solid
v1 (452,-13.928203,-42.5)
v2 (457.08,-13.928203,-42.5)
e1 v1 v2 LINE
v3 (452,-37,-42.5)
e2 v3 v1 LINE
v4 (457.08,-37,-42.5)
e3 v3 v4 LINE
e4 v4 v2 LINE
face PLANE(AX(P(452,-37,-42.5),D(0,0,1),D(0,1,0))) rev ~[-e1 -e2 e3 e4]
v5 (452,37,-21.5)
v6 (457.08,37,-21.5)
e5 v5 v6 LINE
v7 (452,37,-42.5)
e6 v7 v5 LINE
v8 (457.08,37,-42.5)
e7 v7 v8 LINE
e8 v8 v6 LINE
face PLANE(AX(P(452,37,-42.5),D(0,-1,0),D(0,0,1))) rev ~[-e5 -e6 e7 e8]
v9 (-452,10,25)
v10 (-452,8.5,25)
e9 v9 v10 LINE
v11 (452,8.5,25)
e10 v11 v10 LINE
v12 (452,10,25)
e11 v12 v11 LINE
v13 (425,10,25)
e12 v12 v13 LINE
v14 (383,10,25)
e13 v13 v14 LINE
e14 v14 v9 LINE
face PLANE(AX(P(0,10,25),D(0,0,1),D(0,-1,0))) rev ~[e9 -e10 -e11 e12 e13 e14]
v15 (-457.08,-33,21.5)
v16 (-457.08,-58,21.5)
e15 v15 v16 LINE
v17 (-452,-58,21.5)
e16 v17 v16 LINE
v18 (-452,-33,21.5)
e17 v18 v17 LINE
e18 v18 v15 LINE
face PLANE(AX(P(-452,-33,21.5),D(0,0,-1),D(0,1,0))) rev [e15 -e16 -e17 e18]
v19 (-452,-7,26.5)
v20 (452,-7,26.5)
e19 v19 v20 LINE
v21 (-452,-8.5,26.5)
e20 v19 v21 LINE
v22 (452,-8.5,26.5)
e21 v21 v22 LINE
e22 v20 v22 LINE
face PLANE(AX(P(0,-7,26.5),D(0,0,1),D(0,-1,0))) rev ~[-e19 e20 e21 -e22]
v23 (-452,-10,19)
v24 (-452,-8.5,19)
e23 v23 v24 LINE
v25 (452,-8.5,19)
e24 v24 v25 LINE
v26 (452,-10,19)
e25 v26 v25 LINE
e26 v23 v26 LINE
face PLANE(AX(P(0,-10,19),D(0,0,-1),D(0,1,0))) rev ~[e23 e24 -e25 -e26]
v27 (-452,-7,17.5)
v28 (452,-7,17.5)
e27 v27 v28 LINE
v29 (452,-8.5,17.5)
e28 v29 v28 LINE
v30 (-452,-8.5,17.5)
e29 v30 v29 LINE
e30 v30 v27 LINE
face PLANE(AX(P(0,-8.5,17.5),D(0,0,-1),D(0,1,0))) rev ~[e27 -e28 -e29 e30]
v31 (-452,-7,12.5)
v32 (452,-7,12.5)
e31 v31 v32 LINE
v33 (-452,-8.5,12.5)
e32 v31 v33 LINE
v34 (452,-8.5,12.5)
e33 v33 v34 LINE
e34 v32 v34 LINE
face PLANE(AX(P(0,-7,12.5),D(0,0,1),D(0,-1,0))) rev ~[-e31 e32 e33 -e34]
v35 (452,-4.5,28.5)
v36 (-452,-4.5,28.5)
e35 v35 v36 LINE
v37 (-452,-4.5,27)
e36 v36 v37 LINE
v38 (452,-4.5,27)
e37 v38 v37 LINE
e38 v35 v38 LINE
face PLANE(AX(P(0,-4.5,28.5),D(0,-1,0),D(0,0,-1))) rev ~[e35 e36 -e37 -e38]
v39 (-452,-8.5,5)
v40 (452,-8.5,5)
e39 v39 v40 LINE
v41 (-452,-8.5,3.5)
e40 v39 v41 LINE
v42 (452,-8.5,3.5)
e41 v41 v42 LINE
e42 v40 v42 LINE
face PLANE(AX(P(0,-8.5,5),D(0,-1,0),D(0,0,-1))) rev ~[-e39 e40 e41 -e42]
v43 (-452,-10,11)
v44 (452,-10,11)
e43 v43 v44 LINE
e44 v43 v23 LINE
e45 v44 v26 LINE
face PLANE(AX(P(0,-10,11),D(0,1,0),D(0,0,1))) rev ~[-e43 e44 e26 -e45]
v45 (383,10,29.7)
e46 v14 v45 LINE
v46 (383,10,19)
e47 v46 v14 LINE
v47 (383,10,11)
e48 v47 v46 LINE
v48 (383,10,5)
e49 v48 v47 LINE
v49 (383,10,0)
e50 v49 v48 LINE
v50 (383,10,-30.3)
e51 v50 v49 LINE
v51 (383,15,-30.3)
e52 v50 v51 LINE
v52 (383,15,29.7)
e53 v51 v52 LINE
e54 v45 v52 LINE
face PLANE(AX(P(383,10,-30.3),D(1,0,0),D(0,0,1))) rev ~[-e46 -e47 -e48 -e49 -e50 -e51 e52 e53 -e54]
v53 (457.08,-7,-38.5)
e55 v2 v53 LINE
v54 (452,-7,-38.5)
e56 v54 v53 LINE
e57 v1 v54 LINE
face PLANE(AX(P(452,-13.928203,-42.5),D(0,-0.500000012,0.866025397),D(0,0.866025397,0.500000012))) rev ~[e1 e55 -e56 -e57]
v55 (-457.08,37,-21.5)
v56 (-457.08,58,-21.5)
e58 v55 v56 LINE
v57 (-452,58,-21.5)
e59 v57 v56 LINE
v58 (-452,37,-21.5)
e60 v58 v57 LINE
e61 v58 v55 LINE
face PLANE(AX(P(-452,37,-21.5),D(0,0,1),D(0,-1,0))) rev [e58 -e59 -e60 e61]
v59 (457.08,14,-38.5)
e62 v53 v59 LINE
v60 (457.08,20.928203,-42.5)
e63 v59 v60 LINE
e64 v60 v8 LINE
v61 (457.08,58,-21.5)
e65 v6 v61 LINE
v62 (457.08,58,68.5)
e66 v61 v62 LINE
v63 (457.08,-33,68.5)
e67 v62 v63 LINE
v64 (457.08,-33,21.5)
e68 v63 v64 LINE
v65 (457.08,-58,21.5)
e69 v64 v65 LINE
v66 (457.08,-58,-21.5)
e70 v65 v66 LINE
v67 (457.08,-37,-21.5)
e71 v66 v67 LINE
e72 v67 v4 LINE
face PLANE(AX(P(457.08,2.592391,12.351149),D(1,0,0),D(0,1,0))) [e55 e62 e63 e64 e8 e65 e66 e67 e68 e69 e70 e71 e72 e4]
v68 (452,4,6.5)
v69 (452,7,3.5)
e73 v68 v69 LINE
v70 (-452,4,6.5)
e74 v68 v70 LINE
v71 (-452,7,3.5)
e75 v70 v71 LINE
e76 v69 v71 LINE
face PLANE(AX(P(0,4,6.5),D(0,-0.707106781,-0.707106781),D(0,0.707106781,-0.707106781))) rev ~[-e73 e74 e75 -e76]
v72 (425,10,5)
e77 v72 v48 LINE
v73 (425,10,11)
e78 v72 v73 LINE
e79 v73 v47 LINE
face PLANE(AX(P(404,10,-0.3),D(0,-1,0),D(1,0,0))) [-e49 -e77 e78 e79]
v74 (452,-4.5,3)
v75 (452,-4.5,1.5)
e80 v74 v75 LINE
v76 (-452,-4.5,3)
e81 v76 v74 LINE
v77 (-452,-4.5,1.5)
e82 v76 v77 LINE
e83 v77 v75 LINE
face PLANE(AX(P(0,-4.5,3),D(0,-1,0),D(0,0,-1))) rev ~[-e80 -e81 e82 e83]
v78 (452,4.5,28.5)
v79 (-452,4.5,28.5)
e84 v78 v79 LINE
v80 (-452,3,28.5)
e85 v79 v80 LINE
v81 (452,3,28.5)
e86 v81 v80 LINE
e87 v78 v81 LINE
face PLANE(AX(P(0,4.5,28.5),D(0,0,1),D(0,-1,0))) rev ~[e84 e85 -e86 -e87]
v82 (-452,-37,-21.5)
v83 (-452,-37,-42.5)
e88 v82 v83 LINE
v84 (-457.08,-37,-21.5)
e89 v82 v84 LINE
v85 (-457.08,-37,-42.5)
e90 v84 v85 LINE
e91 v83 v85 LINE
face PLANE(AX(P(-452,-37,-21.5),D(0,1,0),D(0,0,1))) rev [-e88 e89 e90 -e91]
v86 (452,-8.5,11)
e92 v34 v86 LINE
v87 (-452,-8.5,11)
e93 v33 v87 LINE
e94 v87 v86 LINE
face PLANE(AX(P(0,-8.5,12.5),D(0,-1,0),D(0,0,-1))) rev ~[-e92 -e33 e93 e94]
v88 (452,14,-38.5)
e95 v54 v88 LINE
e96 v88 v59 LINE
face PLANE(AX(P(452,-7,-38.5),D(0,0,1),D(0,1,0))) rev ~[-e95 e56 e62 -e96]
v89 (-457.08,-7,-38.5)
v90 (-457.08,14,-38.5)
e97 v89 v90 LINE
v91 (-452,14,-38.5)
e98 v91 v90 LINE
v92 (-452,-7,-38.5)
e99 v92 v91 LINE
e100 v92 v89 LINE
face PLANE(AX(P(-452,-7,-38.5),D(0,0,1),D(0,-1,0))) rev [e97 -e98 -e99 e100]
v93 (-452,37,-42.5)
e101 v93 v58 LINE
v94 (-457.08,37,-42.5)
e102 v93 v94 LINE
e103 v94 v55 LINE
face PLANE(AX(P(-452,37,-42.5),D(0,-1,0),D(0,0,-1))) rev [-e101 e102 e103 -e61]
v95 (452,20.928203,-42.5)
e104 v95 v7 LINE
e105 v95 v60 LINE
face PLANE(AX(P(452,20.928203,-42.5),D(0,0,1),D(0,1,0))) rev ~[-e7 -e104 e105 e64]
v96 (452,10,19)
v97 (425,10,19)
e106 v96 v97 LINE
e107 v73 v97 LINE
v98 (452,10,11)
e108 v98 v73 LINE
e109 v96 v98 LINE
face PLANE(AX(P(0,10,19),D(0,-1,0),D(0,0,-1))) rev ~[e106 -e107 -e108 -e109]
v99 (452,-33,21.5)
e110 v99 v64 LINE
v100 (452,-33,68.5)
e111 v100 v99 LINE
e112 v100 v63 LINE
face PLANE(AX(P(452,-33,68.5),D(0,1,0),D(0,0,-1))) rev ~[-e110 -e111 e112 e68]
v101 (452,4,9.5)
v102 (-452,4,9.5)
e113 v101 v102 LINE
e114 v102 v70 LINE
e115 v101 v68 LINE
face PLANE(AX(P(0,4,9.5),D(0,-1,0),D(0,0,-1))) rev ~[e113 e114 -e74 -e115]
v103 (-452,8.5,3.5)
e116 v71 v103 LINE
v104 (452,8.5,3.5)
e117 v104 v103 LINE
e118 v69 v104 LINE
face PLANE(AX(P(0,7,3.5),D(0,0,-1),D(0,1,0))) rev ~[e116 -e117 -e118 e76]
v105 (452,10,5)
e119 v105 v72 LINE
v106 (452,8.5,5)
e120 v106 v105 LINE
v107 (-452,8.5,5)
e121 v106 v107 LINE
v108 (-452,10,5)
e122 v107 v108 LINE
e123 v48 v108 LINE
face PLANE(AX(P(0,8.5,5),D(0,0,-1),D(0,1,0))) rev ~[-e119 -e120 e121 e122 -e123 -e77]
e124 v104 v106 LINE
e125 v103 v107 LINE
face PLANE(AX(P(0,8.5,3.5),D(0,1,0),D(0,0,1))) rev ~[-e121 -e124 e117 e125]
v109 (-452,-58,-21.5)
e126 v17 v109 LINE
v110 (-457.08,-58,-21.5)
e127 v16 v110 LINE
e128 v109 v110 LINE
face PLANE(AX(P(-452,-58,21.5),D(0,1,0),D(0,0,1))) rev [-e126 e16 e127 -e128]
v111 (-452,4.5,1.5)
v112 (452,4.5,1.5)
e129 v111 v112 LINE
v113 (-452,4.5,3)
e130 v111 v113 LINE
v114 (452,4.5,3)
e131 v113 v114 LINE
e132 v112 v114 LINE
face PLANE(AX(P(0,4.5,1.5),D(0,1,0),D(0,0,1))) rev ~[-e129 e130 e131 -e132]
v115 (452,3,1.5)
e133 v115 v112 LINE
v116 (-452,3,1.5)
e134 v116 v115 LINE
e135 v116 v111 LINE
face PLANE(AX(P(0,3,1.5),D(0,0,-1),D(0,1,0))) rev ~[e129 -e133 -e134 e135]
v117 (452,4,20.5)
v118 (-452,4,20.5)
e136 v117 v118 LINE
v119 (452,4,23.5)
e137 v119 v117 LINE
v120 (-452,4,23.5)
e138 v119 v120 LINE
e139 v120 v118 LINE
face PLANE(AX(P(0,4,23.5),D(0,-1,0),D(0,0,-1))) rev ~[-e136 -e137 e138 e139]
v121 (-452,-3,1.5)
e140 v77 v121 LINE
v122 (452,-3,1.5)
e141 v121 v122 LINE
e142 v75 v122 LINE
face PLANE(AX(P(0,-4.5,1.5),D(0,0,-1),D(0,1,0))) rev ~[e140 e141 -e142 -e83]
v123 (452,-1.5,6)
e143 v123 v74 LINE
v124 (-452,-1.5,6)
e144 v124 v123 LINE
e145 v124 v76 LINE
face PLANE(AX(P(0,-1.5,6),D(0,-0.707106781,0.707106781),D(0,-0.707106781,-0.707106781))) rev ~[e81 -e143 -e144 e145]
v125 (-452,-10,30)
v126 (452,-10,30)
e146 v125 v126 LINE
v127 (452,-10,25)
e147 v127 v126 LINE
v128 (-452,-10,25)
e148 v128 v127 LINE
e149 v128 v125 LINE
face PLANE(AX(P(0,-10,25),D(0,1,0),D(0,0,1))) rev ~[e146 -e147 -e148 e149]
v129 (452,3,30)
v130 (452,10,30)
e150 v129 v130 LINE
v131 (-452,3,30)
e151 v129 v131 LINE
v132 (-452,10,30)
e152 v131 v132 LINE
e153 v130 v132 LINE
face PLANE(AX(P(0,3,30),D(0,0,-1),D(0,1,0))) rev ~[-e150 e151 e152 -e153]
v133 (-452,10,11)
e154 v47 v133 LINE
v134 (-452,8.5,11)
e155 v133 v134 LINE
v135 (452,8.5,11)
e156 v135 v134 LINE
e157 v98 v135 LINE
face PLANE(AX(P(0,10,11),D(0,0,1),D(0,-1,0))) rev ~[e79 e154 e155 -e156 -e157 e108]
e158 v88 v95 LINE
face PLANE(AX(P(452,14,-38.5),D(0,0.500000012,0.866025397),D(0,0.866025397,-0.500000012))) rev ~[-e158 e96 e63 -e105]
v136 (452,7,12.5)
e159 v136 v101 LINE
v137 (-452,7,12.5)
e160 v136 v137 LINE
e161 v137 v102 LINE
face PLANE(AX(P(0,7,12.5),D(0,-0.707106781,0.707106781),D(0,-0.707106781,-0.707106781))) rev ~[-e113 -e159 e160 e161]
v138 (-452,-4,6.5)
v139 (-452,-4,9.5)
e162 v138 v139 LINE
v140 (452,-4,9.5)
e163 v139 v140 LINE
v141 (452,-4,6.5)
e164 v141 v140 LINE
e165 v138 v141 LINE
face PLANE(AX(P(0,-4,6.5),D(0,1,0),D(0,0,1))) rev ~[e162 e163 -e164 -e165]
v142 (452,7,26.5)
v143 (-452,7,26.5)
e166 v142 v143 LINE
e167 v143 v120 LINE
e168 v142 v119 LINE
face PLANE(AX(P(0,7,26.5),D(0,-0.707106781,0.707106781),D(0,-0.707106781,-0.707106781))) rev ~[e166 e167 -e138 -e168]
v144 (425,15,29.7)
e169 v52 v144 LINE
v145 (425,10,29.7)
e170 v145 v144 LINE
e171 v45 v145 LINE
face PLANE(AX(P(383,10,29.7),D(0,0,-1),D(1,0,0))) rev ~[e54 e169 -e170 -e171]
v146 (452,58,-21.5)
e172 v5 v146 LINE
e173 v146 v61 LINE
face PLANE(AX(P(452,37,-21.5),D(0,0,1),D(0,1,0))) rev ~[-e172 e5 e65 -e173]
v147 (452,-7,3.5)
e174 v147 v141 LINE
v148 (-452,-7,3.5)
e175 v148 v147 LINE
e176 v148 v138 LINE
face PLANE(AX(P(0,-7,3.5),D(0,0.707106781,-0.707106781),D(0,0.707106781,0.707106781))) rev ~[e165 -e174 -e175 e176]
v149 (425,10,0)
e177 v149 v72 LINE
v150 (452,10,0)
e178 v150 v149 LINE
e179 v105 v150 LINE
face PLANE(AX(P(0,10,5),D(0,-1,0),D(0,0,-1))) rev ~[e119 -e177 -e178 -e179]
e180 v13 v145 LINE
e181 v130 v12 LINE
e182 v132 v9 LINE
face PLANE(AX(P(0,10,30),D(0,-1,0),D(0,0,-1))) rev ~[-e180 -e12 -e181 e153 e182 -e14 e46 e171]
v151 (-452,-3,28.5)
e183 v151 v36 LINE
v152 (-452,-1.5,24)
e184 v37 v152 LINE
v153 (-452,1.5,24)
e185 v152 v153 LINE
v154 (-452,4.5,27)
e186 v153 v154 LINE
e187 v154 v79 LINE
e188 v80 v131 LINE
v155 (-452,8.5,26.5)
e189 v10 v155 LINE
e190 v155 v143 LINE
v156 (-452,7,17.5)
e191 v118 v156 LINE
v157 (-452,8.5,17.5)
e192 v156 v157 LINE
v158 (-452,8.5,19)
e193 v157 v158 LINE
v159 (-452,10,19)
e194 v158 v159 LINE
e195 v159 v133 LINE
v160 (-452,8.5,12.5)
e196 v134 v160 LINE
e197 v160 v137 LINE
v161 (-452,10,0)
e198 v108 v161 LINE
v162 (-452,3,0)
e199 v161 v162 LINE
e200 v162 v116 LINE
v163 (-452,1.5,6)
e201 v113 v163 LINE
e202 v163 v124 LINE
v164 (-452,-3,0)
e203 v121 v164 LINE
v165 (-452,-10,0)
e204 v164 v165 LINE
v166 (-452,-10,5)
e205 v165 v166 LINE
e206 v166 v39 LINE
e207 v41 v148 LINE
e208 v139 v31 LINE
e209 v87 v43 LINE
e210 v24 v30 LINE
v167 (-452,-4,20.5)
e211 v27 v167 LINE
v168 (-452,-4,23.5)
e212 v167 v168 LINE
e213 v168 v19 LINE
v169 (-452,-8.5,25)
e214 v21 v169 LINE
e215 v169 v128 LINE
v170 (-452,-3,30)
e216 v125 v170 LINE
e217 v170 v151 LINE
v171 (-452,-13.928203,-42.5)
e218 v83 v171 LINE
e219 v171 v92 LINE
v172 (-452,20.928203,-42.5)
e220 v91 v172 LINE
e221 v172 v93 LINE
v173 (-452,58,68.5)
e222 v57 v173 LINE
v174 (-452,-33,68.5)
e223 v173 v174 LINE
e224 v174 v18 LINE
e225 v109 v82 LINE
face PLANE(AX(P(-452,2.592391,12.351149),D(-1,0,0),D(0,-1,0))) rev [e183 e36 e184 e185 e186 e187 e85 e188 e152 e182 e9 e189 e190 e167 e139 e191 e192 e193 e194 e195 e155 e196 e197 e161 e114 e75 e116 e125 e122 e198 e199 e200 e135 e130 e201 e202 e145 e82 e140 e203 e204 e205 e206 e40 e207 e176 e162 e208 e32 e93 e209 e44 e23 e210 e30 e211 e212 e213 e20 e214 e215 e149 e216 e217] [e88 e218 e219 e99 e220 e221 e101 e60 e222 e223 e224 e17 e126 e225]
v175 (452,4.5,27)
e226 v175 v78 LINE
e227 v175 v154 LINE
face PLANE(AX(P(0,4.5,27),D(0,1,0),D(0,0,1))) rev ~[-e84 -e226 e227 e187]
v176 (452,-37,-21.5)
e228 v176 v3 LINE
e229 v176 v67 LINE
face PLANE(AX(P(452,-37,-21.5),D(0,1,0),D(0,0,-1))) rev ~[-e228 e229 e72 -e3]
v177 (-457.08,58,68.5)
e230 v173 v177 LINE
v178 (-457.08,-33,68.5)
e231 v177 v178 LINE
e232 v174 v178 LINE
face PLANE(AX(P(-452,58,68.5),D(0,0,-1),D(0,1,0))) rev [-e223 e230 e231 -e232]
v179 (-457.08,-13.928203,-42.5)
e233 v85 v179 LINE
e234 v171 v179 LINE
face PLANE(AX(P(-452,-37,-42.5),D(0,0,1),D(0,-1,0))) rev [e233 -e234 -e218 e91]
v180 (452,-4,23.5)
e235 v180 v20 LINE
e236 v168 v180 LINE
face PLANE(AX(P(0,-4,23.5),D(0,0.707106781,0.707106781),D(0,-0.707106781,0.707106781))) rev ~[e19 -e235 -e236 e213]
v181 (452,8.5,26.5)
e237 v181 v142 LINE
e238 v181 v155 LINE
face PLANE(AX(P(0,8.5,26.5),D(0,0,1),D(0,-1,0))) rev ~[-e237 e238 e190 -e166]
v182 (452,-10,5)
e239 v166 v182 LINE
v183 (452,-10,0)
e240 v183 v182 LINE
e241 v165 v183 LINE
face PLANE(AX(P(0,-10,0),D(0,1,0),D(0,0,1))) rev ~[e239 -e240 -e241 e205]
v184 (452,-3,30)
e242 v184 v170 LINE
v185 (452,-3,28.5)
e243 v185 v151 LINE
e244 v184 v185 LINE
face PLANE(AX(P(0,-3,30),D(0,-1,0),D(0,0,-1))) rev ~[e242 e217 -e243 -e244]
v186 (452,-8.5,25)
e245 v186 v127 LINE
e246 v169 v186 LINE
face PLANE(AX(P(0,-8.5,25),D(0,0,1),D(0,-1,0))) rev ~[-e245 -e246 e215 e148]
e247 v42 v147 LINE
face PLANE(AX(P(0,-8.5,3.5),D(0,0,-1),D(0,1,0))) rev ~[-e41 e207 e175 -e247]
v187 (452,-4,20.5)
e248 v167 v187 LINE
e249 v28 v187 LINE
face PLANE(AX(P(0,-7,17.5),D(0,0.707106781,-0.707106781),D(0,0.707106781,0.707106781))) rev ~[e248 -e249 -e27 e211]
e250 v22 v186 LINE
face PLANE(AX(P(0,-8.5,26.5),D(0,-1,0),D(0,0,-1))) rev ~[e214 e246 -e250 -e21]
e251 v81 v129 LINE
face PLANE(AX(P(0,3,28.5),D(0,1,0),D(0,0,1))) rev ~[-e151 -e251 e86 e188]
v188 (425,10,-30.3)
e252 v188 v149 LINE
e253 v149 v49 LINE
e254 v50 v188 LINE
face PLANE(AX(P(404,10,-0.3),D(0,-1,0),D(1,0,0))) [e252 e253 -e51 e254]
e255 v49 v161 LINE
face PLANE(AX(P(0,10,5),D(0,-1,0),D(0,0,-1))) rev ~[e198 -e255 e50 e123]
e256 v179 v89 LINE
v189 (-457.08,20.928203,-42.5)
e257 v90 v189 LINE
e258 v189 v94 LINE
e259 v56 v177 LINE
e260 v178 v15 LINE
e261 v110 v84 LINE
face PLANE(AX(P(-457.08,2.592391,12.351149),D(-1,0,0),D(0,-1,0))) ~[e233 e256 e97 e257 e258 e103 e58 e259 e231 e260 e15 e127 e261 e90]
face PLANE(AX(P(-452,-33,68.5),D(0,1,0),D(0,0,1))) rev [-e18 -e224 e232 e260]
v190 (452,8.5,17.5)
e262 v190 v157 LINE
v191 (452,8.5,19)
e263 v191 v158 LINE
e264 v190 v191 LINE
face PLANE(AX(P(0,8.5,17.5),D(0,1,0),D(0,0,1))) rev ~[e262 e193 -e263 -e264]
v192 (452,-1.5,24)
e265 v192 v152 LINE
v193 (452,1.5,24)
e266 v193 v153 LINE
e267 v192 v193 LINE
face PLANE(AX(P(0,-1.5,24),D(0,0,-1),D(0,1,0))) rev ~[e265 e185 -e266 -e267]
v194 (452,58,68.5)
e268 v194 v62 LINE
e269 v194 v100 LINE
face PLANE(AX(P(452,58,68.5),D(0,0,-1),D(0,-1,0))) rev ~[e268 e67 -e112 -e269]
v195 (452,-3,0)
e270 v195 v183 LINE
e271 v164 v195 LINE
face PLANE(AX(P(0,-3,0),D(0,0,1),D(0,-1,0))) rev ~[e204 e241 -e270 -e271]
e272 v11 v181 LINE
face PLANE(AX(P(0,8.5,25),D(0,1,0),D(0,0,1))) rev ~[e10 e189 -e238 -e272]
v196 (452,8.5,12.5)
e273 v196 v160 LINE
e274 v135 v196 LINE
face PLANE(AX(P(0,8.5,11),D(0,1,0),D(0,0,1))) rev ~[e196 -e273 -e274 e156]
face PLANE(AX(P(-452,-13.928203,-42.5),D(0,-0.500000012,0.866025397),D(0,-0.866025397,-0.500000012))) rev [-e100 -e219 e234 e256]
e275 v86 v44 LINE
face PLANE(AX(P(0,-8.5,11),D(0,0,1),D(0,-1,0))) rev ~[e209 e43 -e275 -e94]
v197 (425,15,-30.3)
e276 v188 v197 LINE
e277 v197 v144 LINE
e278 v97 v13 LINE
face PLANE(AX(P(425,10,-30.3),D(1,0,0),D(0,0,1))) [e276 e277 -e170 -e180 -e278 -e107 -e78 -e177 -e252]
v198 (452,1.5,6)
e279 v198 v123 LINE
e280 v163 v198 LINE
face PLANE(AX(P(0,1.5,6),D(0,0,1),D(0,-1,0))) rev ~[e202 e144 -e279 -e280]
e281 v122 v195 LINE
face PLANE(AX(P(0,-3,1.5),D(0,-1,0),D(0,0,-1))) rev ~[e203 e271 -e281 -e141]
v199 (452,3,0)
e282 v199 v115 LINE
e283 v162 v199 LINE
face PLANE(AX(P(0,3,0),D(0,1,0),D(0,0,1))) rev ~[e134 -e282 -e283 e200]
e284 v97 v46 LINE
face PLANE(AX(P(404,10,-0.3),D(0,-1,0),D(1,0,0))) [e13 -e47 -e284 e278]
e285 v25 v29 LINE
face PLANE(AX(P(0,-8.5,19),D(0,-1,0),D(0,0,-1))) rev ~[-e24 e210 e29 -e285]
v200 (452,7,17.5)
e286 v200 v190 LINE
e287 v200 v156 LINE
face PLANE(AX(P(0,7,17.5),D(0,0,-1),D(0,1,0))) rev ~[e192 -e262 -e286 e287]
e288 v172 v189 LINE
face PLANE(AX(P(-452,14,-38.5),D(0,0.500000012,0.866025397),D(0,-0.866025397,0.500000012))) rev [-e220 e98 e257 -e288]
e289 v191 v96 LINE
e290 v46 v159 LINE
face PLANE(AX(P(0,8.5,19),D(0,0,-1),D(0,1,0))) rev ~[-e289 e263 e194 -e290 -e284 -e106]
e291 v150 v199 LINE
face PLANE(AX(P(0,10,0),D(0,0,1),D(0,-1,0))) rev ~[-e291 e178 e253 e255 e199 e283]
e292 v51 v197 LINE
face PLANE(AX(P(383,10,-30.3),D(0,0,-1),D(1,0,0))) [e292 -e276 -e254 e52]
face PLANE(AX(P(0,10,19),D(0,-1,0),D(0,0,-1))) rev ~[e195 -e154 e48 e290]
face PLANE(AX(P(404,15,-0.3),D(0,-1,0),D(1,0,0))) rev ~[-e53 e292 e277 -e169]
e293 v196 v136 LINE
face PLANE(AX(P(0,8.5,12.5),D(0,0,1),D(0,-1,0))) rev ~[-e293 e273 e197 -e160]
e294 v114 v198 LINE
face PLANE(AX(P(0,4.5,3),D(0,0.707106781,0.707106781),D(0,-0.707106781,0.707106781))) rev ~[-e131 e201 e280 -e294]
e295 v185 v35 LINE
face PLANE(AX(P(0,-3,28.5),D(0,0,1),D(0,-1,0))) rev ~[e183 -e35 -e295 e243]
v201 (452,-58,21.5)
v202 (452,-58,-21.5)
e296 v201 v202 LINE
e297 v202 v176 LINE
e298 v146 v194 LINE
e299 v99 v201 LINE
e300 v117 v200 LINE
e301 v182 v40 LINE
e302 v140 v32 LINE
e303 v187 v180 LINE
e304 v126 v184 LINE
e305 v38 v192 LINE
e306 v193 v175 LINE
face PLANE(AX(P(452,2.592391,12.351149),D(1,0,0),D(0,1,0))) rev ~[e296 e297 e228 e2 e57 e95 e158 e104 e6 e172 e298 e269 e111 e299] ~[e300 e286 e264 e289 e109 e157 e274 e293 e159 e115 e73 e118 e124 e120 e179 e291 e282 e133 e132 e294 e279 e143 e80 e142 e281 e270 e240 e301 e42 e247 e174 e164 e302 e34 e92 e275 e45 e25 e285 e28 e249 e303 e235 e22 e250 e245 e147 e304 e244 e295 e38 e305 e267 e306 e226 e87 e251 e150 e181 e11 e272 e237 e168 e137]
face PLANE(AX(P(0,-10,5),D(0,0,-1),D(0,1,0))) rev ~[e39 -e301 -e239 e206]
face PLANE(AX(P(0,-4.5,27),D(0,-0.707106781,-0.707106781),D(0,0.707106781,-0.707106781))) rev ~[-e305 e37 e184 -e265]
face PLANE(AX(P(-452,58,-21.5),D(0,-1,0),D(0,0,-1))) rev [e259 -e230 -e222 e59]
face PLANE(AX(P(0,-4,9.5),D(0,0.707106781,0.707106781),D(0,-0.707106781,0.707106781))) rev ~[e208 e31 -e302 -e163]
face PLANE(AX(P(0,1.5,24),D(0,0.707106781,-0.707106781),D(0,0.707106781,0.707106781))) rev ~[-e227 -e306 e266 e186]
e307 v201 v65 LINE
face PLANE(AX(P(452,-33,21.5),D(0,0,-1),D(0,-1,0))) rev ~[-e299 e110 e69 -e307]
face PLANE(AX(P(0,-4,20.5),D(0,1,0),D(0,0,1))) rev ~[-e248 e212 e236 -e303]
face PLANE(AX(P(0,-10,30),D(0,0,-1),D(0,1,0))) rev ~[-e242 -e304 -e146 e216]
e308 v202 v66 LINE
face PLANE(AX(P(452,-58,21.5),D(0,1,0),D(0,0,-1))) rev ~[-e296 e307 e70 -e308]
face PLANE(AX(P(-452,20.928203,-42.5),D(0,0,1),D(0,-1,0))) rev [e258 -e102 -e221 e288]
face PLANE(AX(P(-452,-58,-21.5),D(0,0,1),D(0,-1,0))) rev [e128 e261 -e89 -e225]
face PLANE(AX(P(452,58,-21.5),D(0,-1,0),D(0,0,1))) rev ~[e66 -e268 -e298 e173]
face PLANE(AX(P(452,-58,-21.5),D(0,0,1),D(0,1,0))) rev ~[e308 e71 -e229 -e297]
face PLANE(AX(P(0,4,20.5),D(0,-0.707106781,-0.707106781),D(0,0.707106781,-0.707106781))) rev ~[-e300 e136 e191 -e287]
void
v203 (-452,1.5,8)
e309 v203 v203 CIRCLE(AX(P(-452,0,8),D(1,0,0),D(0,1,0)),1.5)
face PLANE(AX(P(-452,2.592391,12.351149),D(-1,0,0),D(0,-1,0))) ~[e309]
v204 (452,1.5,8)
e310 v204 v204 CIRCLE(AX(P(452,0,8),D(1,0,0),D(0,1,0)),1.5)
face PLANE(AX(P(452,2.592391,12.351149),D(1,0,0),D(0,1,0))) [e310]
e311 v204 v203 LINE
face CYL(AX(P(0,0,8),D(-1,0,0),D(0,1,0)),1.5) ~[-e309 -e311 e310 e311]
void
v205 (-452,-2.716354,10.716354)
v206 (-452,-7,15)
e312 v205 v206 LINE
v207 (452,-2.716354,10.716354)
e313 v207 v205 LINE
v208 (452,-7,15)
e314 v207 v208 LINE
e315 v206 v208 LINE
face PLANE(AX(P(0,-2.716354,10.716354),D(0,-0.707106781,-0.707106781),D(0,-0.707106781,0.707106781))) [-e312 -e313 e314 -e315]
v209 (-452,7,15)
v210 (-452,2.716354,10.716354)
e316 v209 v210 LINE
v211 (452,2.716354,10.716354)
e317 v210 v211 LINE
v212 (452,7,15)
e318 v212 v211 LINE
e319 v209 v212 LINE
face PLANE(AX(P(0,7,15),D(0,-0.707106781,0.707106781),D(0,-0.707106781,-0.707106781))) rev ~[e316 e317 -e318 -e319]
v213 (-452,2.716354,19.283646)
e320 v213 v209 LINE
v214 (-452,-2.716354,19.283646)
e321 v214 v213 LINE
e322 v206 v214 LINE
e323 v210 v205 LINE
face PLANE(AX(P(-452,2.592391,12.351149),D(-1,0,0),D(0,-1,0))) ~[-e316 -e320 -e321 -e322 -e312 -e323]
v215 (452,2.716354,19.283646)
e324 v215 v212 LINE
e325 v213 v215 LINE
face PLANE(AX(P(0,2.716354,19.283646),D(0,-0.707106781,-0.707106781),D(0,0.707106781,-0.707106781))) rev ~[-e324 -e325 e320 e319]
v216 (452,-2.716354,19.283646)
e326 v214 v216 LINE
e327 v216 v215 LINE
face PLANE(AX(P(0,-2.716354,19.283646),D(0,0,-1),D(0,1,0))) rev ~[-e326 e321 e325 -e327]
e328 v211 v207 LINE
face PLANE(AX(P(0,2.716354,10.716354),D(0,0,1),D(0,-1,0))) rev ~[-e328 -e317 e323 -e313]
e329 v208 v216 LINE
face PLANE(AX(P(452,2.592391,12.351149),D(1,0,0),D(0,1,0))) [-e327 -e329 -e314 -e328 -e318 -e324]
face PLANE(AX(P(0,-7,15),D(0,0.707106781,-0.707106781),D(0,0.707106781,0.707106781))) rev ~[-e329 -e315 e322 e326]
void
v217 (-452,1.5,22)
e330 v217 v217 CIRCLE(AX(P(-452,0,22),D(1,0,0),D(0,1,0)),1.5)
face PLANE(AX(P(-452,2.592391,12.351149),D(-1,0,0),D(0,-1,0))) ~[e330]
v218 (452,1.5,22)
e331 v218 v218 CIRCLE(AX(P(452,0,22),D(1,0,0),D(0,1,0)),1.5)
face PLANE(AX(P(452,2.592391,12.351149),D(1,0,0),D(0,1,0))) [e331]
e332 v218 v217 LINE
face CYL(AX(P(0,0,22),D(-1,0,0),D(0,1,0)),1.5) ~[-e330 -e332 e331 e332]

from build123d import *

# Parameters (mm, degrees)
SKETCH_R     = 1.5
PAD_DEPTH    = 452
PAD001_DEPTH = 5.08
SKETCH002_W  = 42
SKETCH002_H  = 60
PAD002_DEPTH = 5


with BuildPart() as part:
    # Sketch → Pad (new body, symmetric)
    with BuildSketch(Plane.YZ):
        Polygon((-10, 30), (-3, 30), (-3, 28.5), (-4.5, 28.5), (-4.5, 27), (-1.5, 24), (1.5, 24), (4.5, 27), (4.5, 28.5), (3, 28.5), (3, 30), (10, 30), (10, 25), (8.5, 25), (8.5, 26.5), (7, 26.5), (4, 23.5), (4, 20.5), (7, 17.5), (8.5, 17.5), (8.5, 19), (10, 19), (10, 11), (8.5, 11), (8.5, 12.5), (7, 12.5), (4, 9.5), (4, 6.5), (7, 3.5), (8.5, 3.5), (8.5, 5), (10, 5), (10, 0), (3, 0), (3, 1.5), (4.5, 1.5), (4.5, 3), (1.5, 6), (-1.5, 6), (-4.5, 3), (-4.5, 1.5), (-3, 1.5), (-3, 0), (-10, 0), (-10, 5), (-8.5, 5), (-8.5, 3.5), (-7, 3.5), (-4, 6.5), (-4, 9.5), (-7, 12.5), (-8.5, 12.5), (-8.5, 11), (-10, 11), (-10, 19), (-8.5, 19), (-8.5, 17.5), (-7, 17.5), (-4, 20.5), (-4, 23.5), (-7, 26.5), (-8.5, 26.5), (-8.5, 25), (-10, 25), align=None)
        with Locations((0, 8)):
            Circle(SKETCH_R, mode=Mode.SUBTRACT)
        with Locations((0, 22)):
            Circle(SKETCH_R, mode=Mode.SUBTRACT)
        Polygon((-7, 15), (-2.716354, 19.283646), (2.716354, 19.283646), (7, 15), (2.716354, 10.716354), (-2.716354, 10.716354), align=None, mode=Mode.SUBTRACT)
    extrude(amount=PAD_DEPTH, both=True)

    # Sketch001 → Pad001 (join)
    with BuildSketch(Plane.YZ.offset(452)):
        Polygon((-33, 68.5), (-33, 21.5), (-58, 21.5), (-58, -21.5), (-37, -21.5), (-37, -42.5), (-13.928203, -42.5), (-7, -38.5), (14, -38.5), (20.928203, -42.5), (37, -42.5), (37, -21.5), (58, -21.5), (58, 68.5), align=None)
    pad001 = extrude(amount=PAD001_DEPTH)

    # Mirrored: Pad001 across YZ
    add(pad001.mirror(Plane.YZ))

    # Sketch002 → Pad002 (join)
    with BuildSketch(Plane.XZ.offset(-10)):
        with Locations((404, -0.3)):
            Rectangle(SKETCH002_W, SKETCH002_H)
    extrude(amount=-PAD002_DEPTH)


solid = part.part
